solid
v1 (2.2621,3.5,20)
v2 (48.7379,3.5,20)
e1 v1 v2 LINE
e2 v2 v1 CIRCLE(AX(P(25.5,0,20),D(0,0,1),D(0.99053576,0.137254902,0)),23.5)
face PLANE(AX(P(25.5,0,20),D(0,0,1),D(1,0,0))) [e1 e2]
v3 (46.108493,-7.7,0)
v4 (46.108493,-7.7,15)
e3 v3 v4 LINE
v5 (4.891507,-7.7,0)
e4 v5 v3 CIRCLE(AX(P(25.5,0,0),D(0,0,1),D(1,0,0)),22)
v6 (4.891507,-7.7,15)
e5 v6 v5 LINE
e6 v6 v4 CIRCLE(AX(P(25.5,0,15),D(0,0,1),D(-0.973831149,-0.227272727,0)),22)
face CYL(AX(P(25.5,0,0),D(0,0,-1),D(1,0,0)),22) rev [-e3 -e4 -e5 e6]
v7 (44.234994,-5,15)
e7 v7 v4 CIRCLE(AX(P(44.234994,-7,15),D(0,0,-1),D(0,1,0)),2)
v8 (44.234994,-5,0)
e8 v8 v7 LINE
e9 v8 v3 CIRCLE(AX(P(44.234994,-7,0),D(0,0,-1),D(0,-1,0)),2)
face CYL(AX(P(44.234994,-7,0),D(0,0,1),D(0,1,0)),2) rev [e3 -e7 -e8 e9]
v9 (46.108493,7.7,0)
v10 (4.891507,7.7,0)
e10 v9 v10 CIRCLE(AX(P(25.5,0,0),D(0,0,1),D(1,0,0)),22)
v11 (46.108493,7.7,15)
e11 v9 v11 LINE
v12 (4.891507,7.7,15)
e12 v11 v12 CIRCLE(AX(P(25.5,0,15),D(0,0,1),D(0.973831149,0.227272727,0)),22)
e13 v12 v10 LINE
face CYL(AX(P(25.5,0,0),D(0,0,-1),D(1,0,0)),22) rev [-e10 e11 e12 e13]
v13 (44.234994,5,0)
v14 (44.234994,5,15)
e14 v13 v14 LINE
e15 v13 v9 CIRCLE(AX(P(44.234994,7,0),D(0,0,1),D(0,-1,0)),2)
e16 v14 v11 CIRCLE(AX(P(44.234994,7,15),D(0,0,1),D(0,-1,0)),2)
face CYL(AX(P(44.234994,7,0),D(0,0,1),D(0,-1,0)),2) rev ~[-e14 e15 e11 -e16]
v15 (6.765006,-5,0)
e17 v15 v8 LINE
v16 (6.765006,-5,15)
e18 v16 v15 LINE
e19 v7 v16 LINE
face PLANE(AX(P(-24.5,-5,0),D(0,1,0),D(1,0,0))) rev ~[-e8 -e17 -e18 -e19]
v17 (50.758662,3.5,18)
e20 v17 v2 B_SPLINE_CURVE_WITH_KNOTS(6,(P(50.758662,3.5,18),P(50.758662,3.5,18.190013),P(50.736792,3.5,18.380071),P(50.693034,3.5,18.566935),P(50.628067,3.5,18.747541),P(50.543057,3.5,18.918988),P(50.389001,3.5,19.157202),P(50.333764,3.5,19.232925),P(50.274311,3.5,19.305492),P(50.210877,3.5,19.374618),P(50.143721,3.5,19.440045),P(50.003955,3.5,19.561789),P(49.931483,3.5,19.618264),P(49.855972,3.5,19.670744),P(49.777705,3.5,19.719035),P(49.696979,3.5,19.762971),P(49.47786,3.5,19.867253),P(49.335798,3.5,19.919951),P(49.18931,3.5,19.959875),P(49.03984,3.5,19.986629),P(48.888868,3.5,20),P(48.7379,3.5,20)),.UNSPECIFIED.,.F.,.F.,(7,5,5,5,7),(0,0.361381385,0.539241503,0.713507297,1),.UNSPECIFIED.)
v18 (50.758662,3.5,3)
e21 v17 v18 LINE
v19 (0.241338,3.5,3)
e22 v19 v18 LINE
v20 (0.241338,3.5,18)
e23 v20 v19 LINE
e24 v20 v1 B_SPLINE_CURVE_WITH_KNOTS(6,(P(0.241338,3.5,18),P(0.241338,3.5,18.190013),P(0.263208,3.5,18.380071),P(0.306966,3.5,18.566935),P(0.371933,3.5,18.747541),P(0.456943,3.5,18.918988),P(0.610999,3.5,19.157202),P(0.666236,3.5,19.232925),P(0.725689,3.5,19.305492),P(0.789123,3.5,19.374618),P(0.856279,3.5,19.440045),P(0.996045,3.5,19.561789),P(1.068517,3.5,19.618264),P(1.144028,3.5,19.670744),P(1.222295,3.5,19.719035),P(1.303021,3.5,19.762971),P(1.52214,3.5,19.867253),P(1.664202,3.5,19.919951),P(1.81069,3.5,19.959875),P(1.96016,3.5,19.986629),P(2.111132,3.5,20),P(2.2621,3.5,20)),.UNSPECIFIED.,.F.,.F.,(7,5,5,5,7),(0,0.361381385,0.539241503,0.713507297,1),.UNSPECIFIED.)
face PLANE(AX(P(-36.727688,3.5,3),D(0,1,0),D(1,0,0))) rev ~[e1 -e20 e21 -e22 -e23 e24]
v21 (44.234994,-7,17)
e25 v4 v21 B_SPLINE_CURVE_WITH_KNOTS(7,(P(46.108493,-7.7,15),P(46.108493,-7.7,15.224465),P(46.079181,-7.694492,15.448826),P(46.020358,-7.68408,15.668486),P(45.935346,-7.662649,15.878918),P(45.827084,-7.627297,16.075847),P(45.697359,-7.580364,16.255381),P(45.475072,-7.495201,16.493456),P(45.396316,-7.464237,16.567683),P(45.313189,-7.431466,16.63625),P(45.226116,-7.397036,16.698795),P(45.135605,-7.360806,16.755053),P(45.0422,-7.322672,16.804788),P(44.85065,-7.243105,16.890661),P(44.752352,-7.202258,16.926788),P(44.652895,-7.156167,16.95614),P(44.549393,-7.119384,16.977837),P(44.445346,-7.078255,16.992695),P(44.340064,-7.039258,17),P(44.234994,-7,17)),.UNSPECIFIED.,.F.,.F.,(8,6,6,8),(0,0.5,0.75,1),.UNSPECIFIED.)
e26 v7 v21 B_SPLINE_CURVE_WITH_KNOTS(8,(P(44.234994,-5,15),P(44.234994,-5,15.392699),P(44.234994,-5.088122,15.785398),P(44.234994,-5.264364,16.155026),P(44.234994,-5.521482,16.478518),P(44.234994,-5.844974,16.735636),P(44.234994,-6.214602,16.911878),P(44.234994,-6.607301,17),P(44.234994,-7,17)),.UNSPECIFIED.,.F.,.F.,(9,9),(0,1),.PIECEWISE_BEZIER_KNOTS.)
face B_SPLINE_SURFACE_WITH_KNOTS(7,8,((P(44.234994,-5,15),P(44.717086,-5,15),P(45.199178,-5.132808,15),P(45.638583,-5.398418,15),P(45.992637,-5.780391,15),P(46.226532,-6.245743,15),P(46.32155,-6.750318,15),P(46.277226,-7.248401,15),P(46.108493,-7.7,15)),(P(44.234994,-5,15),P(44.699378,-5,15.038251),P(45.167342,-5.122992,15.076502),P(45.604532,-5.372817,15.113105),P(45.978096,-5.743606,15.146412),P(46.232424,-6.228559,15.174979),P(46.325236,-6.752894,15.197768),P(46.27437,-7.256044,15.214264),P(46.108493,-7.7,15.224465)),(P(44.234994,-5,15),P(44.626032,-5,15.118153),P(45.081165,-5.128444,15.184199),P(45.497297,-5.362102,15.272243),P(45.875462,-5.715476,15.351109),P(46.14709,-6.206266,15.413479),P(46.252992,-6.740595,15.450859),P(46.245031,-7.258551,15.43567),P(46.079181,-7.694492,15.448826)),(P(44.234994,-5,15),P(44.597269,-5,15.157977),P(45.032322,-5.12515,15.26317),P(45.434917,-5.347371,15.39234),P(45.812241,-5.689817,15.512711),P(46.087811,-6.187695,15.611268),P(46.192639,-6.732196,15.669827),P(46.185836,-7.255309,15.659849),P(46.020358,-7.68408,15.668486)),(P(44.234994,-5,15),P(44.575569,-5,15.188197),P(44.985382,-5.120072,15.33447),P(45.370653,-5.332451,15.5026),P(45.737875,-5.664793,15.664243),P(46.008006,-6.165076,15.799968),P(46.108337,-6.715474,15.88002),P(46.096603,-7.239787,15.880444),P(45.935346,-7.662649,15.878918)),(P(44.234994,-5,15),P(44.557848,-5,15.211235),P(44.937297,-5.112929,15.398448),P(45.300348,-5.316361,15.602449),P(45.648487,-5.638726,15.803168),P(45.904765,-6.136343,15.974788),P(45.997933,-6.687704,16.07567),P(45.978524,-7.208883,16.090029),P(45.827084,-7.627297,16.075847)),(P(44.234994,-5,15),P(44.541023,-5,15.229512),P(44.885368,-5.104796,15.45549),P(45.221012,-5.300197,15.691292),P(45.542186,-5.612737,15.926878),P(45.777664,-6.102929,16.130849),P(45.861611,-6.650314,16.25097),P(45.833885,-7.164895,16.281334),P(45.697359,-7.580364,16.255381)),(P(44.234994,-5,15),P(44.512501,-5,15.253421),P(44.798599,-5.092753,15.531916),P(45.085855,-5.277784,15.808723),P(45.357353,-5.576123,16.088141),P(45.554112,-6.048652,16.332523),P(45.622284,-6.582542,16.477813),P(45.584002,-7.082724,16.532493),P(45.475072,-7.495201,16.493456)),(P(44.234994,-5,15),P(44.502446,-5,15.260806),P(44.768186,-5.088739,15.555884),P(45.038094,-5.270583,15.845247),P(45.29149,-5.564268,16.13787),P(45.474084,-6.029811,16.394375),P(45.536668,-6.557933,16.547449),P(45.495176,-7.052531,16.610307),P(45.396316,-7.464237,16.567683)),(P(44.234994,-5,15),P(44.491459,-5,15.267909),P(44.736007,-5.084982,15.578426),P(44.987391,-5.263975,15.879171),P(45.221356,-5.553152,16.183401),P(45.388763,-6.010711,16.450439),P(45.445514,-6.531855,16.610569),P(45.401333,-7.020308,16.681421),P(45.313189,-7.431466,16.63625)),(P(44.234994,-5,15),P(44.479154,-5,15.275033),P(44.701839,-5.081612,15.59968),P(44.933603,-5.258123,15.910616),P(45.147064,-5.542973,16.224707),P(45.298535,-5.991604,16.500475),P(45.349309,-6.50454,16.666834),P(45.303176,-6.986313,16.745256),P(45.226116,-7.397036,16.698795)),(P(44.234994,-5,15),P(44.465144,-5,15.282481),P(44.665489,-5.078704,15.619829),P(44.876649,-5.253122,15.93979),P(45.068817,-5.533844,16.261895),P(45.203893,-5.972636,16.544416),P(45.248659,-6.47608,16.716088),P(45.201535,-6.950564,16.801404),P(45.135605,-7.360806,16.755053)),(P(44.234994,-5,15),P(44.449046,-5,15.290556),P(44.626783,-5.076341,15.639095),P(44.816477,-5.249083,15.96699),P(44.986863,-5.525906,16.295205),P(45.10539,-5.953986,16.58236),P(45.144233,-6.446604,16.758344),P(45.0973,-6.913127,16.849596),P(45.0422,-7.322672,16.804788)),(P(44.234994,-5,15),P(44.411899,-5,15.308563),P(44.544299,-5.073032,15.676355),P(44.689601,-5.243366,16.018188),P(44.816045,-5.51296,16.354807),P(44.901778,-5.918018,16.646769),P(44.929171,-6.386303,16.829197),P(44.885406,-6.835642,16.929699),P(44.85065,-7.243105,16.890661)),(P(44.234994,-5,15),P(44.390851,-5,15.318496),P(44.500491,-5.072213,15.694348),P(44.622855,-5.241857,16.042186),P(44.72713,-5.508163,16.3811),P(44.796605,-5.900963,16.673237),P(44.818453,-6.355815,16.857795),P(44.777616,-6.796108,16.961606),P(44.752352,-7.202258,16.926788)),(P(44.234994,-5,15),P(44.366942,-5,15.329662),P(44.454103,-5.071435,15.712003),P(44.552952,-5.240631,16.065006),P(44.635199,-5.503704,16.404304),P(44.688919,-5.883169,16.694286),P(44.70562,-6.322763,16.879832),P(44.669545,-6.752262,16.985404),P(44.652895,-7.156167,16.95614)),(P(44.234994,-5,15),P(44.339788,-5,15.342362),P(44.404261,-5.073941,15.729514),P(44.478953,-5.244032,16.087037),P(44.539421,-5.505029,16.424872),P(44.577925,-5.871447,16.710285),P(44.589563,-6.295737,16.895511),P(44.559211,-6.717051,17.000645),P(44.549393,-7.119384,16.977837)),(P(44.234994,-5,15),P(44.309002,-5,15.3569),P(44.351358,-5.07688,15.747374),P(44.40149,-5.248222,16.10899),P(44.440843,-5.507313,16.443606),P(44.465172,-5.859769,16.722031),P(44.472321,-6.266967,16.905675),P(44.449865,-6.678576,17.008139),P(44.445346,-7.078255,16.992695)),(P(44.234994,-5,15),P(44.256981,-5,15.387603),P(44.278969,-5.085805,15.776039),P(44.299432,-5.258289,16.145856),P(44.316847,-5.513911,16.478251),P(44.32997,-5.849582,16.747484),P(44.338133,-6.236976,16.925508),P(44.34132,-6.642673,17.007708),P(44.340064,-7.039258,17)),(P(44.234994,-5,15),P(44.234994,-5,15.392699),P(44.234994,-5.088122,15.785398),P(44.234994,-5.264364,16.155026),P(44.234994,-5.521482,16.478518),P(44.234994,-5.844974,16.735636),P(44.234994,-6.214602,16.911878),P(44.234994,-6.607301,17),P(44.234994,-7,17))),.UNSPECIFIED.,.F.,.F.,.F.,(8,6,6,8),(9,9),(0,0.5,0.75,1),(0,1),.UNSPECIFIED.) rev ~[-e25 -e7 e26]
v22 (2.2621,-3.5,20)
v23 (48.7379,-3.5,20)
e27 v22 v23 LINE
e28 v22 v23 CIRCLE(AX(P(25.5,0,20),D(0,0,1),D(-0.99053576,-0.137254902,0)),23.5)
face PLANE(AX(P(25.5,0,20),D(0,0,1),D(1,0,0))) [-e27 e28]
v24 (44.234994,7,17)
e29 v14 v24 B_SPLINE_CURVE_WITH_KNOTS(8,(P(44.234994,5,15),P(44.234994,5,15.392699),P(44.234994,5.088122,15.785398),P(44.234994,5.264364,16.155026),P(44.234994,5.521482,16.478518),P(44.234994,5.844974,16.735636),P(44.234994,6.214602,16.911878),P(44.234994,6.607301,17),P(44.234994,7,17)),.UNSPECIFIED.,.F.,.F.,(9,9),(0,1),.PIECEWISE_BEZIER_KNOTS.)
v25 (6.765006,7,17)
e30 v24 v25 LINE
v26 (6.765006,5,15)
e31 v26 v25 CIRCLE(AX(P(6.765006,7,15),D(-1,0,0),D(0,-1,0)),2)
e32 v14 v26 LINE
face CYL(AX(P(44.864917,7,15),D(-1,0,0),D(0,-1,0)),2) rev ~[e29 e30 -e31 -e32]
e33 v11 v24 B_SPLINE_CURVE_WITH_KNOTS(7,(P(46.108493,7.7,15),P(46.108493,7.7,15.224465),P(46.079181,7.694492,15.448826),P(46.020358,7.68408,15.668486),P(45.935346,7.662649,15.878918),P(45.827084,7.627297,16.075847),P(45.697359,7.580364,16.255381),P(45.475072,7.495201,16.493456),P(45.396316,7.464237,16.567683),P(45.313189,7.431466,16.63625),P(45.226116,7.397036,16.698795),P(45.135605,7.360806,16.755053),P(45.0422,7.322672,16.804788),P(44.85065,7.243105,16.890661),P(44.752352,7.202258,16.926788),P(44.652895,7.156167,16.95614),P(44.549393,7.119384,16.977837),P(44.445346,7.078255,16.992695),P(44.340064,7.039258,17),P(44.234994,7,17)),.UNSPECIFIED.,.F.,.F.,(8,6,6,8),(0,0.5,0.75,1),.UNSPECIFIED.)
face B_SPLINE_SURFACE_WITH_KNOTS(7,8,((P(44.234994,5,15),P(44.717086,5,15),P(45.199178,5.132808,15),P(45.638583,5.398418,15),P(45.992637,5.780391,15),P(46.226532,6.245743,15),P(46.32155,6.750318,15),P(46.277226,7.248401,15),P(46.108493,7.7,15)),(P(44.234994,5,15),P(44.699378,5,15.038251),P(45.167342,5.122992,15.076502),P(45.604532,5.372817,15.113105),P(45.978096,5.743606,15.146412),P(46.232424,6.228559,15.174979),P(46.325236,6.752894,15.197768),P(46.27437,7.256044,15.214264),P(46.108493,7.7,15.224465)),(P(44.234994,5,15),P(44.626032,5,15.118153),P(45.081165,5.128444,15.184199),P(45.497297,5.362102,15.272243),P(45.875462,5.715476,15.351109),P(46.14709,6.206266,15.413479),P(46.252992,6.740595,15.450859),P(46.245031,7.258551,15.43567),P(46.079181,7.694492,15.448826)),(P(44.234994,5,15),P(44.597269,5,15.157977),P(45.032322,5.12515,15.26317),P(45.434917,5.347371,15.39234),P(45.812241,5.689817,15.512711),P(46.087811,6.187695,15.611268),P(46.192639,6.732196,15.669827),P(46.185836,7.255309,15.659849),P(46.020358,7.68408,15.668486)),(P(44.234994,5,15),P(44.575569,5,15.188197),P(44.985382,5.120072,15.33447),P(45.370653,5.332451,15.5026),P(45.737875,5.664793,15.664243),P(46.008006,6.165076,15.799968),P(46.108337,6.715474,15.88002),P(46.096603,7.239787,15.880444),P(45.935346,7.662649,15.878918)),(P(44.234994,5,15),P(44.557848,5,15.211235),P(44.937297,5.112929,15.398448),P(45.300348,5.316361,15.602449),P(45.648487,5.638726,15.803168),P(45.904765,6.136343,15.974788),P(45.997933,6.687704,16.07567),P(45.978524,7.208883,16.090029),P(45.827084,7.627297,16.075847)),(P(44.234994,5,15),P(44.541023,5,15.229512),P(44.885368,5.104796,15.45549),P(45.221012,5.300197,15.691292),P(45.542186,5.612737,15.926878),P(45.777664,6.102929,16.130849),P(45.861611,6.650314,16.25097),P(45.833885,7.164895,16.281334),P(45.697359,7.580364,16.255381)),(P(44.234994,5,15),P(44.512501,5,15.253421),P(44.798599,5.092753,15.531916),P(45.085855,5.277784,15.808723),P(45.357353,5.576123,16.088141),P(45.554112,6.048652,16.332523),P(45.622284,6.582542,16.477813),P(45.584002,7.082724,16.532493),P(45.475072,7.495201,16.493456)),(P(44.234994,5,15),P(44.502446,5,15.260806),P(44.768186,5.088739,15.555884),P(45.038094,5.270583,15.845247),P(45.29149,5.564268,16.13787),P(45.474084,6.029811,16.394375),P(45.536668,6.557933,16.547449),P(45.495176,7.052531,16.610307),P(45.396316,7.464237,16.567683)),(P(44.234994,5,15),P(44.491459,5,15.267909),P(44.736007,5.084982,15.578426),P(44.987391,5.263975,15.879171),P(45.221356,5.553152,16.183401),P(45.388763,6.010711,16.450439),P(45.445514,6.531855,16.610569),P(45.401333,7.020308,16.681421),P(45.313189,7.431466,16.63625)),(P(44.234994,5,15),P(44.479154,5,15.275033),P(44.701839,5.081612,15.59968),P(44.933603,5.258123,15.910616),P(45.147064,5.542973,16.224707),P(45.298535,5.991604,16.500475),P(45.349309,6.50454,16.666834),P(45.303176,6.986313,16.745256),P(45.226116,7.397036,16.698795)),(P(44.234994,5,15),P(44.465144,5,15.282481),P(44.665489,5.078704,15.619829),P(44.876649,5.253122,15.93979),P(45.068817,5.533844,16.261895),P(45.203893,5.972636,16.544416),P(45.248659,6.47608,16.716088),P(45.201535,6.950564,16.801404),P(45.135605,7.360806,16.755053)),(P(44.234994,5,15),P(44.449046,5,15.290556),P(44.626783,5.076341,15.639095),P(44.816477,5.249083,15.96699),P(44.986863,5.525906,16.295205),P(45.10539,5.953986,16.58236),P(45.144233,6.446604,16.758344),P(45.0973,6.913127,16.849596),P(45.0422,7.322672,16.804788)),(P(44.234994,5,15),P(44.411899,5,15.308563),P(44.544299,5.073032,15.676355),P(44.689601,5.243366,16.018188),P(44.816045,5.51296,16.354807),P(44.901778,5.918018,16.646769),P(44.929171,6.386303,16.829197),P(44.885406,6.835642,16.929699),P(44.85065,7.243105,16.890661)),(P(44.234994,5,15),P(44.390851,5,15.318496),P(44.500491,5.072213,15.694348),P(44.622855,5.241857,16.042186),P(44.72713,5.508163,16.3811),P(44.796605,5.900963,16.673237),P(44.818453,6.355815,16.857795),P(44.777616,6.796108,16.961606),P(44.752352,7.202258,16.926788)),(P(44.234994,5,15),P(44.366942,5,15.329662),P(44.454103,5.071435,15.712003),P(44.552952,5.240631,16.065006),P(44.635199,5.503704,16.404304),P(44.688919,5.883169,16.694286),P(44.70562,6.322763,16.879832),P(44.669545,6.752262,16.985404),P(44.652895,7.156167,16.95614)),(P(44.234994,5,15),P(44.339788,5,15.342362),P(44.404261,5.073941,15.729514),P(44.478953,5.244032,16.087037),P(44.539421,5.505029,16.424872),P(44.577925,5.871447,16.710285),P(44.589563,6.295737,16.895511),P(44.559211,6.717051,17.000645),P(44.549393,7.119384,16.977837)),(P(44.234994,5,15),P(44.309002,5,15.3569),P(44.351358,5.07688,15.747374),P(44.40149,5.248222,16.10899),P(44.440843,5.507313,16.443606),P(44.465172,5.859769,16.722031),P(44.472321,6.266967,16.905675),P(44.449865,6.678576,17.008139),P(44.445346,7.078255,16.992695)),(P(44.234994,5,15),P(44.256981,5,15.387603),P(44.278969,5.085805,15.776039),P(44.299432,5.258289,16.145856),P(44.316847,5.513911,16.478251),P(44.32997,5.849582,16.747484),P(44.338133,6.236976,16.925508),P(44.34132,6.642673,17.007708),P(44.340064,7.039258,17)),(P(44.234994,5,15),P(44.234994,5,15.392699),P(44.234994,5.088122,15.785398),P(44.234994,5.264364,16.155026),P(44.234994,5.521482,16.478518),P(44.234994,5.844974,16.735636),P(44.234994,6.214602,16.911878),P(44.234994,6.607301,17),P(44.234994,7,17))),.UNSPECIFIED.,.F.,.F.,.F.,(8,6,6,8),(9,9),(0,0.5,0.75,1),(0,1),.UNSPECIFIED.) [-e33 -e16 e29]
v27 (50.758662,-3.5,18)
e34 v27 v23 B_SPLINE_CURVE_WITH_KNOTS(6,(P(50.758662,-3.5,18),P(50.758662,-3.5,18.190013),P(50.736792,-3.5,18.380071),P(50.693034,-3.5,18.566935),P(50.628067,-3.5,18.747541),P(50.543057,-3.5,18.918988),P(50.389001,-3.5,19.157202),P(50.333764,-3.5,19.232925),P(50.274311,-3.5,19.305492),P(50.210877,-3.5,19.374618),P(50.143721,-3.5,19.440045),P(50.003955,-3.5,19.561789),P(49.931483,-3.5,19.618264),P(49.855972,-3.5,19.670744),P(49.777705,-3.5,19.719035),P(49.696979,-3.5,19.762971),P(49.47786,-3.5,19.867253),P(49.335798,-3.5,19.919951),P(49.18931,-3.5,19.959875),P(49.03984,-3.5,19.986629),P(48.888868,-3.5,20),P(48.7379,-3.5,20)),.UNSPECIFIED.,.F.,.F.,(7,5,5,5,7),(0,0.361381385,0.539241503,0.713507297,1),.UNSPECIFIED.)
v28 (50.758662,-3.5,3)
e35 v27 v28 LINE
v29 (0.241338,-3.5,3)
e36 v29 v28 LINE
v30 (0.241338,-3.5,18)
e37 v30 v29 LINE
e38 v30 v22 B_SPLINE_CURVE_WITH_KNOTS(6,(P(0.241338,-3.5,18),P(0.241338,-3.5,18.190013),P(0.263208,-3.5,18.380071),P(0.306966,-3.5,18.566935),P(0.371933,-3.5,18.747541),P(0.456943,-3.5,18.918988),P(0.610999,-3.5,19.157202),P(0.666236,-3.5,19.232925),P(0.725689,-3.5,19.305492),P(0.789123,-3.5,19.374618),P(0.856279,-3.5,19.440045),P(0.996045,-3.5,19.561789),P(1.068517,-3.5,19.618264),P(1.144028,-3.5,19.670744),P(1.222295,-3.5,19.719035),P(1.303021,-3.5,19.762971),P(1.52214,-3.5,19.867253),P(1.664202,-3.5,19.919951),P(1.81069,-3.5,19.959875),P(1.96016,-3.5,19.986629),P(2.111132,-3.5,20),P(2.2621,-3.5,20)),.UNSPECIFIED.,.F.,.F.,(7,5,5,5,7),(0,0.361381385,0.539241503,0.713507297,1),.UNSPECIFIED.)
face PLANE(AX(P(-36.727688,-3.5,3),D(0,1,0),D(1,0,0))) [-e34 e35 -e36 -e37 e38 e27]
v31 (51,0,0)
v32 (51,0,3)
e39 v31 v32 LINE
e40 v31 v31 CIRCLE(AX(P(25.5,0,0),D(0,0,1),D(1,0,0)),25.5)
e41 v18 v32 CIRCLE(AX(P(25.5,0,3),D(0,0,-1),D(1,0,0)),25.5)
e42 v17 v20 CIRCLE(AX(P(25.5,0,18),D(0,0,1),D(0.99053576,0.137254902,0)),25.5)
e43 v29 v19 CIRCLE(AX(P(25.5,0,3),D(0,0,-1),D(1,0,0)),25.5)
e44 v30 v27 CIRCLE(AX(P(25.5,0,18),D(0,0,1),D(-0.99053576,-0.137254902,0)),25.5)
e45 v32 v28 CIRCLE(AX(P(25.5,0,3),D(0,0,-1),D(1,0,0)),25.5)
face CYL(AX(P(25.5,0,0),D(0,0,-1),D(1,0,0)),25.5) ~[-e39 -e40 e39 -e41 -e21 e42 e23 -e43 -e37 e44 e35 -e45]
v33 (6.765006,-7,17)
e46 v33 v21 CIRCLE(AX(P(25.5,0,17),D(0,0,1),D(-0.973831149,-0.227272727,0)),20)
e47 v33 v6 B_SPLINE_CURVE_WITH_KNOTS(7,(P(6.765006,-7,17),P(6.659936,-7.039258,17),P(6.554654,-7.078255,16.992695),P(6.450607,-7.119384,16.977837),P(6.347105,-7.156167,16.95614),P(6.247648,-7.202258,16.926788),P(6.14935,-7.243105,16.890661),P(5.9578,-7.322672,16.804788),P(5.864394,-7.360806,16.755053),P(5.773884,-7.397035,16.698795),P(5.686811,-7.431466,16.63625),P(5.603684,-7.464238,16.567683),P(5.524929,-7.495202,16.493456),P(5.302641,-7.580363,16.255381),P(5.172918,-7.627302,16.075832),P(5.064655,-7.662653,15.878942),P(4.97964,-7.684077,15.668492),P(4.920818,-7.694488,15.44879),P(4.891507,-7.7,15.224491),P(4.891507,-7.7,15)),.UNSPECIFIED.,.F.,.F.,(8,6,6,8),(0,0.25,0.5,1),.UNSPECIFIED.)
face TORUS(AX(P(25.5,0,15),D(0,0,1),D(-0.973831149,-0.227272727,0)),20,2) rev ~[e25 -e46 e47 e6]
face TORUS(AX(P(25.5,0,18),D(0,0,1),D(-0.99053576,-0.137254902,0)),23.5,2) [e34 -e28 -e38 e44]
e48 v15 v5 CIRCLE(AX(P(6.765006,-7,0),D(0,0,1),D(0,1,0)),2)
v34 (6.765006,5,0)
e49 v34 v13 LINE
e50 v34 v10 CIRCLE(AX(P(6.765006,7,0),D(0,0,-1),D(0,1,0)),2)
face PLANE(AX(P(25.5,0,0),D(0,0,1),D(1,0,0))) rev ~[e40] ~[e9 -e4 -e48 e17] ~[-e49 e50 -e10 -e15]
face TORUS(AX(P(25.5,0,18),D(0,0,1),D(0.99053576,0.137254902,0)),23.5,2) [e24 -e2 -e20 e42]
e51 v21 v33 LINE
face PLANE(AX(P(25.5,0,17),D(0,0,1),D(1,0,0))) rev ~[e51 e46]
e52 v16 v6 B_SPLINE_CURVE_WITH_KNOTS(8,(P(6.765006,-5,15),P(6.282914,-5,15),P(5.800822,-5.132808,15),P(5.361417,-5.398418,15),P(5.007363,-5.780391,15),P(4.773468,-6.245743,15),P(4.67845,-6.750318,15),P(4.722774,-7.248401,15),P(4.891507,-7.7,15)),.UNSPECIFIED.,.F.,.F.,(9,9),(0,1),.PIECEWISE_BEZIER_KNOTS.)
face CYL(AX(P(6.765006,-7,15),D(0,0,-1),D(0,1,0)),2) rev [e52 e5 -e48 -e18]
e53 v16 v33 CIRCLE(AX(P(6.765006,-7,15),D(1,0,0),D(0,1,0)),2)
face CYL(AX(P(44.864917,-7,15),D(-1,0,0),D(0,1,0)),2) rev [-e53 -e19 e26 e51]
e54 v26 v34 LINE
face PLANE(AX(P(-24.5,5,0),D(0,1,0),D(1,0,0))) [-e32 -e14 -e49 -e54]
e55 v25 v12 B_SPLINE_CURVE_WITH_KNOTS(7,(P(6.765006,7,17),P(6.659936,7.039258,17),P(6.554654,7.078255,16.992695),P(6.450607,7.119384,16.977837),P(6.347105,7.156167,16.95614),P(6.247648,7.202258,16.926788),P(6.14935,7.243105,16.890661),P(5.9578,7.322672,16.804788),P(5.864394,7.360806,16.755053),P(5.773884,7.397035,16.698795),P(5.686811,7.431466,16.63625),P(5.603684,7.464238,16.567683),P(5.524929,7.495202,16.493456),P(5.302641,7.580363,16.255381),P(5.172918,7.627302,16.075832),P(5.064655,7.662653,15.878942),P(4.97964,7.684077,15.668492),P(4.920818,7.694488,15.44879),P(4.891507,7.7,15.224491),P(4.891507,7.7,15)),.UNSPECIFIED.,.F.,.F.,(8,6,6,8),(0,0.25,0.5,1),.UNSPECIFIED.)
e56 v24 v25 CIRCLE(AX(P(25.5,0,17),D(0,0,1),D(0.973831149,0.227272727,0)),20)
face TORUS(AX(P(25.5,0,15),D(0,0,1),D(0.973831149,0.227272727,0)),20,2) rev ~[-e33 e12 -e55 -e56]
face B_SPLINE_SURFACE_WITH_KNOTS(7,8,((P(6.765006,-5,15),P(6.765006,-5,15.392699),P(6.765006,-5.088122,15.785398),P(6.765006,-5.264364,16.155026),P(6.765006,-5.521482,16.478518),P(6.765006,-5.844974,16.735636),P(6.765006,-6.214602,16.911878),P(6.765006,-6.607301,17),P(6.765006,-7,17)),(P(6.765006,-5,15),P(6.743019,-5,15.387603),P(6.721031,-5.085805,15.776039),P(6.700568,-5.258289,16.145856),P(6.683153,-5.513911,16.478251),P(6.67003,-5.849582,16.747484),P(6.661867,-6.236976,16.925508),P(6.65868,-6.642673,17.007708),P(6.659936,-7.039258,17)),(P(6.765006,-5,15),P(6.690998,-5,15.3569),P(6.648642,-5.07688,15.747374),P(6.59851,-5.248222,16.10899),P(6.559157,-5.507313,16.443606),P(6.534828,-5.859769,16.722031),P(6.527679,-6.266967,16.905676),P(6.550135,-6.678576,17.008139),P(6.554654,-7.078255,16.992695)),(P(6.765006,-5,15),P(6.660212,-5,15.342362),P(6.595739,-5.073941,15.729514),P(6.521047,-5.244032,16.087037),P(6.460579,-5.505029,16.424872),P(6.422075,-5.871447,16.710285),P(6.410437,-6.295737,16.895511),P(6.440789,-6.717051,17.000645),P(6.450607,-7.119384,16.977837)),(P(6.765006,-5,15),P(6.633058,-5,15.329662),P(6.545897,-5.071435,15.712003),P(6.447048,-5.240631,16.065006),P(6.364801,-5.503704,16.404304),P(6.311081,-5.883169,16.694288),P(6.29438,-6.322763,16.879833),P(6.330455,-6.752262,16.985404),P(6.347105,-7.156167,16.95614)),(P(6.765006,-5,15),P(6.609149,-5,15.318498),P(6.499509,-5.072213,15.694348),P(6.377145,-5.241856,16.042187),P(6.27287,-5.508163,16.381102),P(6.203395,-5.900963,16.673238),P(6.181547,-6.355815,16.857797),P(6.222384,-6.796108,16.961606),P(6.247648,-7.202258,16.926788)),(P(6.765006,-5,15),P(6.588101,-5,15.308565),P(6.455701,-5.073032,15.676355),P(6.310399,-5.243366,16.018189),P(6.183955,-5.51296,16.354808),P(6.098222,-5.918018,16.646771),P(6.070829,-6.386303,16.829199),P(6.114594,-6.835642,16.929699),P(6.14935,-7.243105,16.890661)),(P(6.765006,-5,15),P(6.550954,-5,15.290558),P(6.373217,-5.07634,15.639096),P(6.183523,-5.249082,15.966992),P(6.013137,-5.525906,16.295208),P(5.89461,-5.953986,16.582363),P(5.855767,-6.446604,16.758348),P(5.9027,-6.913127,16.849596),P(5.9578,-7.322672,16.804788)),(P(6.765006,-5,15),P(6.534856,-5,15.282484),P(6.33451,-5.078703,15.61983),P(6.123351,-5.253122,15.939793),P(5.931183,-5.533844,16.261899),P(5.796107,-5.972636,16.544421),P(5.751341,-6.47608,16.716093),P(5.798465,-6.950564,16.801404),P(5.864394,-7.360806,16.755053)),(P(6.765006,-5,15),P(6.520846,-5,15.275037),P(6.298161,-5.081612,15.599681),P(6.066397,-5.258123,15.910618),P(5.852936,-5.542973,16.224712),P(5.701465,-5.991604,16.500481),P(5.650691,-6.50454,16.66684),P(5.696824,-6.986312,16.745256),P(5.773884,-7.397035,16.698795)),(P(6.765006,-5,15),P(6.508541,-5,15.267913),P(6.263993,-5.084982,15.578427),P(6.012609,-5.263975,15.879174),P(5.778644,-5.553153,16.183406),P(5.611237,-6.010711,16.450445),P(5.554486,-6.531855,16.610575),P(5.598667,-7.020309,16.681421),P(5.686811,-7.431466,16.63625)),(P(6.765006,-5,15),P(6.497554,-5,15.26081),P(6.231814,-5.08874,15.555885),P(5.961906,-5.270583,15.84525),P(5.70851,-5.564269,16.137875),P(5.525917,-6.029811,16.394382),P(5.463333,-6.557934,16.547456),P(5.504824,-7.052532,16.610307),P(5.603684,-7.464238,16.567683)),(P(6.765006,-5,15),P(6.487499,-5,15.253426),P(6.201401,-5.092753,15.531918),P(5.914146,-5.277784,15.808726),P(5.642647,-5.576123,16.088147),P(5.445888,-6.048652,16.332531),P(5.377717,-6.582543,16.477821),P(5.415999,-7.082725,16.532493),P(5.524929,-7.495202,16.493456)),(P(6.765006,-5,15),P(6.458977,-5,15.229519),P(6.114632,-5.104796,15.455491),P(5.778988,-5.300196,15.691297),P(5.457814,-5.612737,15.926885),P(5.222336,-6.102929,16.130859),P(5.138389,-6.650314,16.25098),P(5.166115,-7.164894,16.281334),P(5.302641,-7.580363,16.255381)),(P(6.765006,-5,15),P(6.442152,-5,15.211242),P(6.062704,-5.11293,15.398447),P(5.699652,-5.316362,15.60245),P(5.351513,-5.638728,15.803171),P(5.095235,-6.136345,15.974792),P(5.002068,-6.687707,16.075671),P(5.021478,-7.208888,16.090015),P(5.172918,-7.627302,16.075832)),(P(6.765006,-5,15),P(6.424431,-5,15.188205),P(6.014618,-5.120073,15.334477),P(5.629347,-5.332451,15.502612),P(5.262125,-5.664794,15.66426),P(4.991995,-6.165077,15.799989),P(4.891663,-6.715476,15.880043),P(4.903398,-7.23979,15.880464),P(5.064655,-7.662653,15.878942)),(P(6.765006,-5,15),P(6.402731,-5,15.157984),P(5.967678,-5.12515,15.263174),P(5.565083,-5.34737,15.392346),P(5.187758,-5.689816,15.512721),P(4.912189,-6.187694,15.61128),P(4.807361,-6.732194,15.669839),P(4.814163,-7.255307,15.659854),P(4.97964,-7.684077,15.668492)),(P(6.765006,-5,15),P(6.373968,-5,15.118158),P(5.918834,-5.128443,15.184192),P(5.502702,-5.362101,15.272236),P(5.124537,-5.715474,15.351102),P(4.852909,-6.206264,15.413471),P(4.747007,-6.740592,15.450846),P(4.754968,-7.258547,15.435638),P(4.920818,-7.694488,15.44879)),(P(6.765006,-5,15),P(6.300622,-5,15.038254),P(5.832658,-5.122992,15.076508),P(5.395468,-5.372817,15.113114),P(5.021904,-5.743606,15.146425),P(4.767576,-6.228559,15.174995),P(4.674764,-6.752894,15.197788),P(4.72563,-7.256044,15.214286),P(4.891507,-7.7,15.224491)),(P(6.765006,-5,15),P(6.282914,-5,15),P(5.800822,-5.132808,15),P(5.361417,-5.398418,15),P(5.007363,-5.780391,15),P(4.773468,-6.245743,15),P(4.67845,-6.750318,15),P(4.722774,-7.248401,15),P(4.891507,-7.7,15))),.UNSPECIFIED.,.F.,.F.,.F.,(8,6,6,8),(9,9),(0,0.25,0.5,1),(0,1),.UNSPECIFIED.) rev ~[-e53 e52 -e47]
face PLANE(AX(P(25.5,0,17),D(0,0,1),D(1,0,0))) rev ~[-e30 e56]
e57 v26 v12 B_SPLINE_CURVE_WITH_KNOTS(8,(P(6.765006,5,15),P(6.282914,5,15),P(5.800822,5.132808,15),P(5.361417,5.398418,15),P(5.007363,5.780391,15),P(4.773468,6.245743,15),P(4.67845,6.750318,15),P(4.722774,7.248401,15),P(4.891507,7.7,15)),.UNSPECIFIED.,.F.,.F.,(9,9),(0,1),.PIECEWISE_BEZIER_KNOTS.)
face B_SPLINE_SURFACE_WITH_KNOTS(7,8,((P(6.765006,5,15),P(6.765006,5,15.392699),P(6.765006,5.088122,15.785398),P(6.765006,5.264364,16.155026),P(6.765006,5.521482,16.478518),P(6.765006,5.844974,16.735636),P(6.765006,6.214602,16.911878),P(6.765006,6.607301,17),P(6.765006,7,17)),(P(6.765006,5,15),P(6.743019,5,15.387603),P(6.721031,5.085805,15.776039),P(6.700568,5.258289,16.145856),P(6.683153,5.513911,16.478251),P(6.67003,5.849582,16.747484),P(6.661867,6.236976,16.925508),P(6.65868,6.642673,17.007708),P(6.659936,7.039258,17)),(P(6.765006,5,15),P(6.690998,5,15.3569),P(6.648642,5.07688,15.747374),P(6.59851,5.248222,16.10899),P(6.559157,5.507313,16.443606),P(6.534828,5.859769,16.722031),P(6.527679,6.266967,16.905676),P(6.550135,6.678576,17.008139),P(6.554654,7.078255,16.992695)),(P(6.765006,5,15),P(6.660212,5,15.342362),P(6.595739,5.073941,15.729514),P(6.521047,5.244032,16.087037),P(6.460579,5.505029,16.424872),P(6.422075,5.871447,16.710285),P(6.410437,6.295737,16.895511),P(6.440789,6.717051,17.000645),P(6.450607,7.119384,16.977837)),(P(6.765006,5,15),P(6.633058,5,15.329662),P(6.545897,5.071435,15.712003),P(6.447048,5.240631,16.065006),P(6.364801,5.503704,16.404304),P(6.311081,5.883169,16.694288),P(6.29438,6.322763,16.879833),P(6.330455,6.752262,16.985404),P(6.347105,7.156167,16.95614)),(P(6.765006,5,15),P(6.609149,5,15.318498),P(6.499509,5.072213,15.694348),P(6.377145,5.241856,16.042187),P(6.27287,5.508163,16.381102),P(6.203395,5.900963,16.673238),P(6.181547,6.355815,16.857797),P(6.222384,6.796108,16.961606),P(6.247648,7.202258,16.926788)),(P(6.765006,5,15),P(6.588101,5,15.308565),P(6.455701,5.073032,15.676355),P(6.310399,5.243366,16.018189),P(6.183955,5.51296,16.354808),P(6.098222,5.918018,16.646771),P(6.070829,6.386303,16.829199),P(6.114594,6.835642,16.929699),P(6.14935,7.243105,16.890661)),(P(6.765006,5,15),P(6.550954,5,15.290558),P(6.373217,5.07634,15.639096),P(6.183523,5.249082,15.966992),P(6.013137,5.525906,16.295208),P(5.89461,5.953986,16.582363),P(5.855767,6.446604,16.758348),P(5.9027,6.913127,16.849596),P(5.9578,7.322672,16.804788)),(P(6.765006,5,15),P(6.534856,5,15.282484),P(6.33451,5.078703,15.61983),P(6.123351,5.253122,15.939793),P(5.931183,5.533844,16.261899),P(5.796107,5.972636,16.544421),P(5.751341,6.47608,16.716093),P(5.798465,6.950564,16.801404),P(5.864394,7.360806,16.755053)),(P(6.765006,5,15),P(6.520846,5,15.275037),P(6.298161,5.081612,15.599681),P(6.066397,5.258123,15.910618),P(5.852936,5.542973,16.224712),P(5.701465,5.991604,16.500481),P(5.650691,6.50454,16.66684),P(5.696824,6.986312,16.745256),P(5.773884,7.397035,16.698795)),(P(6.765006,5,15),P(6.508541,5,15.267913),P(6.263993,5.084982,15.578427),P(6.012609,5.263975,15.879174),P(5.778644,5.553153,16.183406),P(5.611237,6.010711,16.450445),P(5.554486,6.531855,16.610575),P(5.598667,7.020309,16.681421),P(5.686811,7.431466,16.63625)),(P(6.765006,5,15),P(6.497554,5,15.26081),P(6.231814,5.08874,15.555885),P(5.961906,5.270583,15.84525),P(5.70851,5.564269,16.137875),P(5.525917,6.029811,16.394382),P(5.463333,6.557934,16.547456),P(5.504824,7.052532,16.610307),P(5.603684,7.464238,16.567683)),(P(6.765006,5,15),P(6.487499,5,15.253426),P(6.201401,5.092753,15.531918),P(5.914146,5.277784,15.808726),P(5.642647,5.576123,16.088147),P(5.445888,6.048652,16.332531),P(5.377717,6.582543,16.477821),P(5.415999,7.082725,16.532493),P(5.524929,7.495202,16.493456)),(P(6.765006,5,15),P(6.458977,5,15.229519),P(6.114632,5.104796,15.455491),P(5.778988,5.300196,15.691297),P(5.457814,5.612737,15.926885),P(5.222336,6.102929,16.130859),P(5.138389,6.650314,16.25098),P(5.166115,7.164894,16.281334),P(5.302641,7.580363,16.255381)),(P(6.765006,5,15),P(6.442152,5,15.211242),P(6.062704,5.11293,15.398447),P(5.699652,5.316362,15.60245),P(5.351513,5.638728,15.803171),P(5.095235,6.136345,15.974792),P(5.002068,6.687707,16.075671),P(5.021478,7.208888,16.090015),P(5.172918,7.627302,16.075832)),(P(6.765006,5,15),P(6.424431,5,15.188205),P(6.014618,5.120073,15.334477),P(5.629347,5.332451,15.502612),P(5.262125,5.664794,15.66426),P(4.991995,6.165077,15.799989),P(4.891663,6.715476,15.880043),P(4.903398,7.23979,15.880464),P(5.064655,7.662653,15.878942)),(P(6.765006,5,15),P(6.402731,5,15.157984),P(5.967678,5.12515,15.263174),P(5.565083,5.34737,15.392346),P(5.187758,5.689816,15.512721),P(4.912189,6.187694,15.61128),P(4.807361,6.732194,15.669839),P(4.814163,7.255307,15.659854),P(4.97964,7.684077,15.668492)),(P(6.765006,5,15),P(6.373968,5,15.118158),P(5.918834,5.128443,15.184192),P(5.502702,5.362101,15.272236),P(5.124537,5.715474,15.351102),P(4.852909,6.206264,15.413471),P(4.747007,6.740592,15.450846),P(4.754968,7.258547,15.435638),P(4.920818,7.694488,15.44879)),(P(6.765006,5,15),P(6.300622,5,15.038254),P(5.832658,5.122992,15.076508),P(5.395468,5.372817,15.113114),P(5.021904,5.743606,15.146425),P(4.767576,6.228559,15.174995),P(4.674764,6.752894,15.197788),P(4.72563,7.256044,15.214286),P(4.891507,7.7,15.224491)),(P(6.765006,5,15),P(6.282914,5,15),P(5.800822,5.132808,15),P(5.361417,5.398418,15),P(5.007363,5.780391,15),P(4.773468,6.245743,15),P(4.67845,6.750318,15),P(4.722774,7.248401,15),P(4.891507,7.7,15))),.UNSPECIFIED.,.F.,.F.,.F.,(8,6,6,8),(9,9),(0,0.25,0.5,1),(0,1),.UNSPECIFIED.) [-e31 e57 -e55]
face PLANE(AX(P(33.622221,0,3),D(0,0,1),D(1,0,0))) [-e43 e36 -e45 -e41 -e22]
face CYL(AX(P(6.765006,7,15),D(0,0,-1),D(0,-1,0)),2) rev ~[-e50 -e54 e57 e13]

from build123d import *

# Parameters (mm, degrees)
SKETCH004_W  = 140.699818
SKETCH004_H  = 7
PAD007_DEPTH = 17
SKETCH006_W  = 100
SKETCH006_H  = 10
PAD005_DEPTH = 20
SKETCH005_R  = 22
PAD006_DEPTH = 17
SKETCH007_R  = 25.5
PAD004_DEPTH = 20
FILLET014_R  = 2
FILLET015_R  = 2
FILLET016_R  = 2
FILLET017_R  = 2
FILLET018_R  = 2
FILLET019_R  = 2


with BuildPart() as body007:
    # Sketch004 → Pad007 (new body)
    with BuildSketch(Plane.XY):
        with Locations((8.122221, 0)):
            Rectangle(SKETCH004_W, SKETCH004_H)
    extrude(amount=PAD007_DEPTH)


with BuildPart() as body007_1:
    # Body007 placement: moved
    add(body007.part.moved(Location((0, 0, 3))))


with BuildPart() as body004:
    # Sketch006 → Pad005 (new body)
    with BuildSketch(Plane.XY):
        Rectangle(SKETCH006_W, SKETCH006_H)
    extrude(amount=PAD005_DEPTH)


with BuildPart() as cut001:
    # Sketch005 → Pad006 (new body)
    with BuildSketch(Plane.XY):
        Circle(SKETCH005_R)
    extrude(amount=PAD006_DEPTH)

    # Cut001: cut Body004
    add(body004.part, mode=Mode.SUBTRACT)


with BuildPart() as fillet019:
    # Sketch007 → Pad004 (new body)
    with BuildSketch(Plane.XY):
        Circle(SKETCH007_R)
    extrude(amount=PAD004_DEPTH)

    # Cut002: cut Cut001
    add(cut001.part, mode=Mode.SUBTRACT)

    # Cut003: cut Body007
    add(body007_1.part, mode=Mode.SUBTRACT)


with BuildPart() as fillet019_1:
    # Cut003 placement: moved
    add(fillet019.part.moved(Location((25.5, 0, 0))))

    # Fillet014
    fillet014_edges = [fillet019_1.edges().sort_by_distance(p)[0] for p in [
        (25.5, -25.5, 20),
    ]]
    fillet(fillet014_edges, radius=FILLET014_R)

    # Fillet015
    fillet015_edges = [fillet019_1.edges().sort_by_distance(p)[0] for p in [
        (25.5, 25.5, 20),
    ]]
    fillet(fillet015_edges, radius=FILLET015_R)

    # Fillet016
    fillet016_edges = [fillet019_1.edges().sort_by_distance(p)[0] for p in [
        (25.5, -22, 17),
    ]]
    fillet(fillet016_edges, radius=FILLET016_R)

    # Fillet017
    fillet017_edges = [fillet019_1.edges().sort_by_distance(p)[0] for p in [
        (25.5, 22, 17),
    ]]
    fillet(fillet017_edges, radius=FILLET017_R)

    # Fillet018
    fillet018_edges = [fillet019_1.edges().sort_by_distance(p)[0] for p in [
        (25.5, -5, 17),
    ]]
    fillet(fillet018_edges, radius=FILLET018_R)

    # Fillet019
    fillet019_edges = [fillet019_1.edges().sort_by_distance(p)[0] for p in [
        (25.5, 5, 17),
    ]]
    fillet(fillet019_edges, radius=FILLET019_R)


solid = fillet019_1.part
